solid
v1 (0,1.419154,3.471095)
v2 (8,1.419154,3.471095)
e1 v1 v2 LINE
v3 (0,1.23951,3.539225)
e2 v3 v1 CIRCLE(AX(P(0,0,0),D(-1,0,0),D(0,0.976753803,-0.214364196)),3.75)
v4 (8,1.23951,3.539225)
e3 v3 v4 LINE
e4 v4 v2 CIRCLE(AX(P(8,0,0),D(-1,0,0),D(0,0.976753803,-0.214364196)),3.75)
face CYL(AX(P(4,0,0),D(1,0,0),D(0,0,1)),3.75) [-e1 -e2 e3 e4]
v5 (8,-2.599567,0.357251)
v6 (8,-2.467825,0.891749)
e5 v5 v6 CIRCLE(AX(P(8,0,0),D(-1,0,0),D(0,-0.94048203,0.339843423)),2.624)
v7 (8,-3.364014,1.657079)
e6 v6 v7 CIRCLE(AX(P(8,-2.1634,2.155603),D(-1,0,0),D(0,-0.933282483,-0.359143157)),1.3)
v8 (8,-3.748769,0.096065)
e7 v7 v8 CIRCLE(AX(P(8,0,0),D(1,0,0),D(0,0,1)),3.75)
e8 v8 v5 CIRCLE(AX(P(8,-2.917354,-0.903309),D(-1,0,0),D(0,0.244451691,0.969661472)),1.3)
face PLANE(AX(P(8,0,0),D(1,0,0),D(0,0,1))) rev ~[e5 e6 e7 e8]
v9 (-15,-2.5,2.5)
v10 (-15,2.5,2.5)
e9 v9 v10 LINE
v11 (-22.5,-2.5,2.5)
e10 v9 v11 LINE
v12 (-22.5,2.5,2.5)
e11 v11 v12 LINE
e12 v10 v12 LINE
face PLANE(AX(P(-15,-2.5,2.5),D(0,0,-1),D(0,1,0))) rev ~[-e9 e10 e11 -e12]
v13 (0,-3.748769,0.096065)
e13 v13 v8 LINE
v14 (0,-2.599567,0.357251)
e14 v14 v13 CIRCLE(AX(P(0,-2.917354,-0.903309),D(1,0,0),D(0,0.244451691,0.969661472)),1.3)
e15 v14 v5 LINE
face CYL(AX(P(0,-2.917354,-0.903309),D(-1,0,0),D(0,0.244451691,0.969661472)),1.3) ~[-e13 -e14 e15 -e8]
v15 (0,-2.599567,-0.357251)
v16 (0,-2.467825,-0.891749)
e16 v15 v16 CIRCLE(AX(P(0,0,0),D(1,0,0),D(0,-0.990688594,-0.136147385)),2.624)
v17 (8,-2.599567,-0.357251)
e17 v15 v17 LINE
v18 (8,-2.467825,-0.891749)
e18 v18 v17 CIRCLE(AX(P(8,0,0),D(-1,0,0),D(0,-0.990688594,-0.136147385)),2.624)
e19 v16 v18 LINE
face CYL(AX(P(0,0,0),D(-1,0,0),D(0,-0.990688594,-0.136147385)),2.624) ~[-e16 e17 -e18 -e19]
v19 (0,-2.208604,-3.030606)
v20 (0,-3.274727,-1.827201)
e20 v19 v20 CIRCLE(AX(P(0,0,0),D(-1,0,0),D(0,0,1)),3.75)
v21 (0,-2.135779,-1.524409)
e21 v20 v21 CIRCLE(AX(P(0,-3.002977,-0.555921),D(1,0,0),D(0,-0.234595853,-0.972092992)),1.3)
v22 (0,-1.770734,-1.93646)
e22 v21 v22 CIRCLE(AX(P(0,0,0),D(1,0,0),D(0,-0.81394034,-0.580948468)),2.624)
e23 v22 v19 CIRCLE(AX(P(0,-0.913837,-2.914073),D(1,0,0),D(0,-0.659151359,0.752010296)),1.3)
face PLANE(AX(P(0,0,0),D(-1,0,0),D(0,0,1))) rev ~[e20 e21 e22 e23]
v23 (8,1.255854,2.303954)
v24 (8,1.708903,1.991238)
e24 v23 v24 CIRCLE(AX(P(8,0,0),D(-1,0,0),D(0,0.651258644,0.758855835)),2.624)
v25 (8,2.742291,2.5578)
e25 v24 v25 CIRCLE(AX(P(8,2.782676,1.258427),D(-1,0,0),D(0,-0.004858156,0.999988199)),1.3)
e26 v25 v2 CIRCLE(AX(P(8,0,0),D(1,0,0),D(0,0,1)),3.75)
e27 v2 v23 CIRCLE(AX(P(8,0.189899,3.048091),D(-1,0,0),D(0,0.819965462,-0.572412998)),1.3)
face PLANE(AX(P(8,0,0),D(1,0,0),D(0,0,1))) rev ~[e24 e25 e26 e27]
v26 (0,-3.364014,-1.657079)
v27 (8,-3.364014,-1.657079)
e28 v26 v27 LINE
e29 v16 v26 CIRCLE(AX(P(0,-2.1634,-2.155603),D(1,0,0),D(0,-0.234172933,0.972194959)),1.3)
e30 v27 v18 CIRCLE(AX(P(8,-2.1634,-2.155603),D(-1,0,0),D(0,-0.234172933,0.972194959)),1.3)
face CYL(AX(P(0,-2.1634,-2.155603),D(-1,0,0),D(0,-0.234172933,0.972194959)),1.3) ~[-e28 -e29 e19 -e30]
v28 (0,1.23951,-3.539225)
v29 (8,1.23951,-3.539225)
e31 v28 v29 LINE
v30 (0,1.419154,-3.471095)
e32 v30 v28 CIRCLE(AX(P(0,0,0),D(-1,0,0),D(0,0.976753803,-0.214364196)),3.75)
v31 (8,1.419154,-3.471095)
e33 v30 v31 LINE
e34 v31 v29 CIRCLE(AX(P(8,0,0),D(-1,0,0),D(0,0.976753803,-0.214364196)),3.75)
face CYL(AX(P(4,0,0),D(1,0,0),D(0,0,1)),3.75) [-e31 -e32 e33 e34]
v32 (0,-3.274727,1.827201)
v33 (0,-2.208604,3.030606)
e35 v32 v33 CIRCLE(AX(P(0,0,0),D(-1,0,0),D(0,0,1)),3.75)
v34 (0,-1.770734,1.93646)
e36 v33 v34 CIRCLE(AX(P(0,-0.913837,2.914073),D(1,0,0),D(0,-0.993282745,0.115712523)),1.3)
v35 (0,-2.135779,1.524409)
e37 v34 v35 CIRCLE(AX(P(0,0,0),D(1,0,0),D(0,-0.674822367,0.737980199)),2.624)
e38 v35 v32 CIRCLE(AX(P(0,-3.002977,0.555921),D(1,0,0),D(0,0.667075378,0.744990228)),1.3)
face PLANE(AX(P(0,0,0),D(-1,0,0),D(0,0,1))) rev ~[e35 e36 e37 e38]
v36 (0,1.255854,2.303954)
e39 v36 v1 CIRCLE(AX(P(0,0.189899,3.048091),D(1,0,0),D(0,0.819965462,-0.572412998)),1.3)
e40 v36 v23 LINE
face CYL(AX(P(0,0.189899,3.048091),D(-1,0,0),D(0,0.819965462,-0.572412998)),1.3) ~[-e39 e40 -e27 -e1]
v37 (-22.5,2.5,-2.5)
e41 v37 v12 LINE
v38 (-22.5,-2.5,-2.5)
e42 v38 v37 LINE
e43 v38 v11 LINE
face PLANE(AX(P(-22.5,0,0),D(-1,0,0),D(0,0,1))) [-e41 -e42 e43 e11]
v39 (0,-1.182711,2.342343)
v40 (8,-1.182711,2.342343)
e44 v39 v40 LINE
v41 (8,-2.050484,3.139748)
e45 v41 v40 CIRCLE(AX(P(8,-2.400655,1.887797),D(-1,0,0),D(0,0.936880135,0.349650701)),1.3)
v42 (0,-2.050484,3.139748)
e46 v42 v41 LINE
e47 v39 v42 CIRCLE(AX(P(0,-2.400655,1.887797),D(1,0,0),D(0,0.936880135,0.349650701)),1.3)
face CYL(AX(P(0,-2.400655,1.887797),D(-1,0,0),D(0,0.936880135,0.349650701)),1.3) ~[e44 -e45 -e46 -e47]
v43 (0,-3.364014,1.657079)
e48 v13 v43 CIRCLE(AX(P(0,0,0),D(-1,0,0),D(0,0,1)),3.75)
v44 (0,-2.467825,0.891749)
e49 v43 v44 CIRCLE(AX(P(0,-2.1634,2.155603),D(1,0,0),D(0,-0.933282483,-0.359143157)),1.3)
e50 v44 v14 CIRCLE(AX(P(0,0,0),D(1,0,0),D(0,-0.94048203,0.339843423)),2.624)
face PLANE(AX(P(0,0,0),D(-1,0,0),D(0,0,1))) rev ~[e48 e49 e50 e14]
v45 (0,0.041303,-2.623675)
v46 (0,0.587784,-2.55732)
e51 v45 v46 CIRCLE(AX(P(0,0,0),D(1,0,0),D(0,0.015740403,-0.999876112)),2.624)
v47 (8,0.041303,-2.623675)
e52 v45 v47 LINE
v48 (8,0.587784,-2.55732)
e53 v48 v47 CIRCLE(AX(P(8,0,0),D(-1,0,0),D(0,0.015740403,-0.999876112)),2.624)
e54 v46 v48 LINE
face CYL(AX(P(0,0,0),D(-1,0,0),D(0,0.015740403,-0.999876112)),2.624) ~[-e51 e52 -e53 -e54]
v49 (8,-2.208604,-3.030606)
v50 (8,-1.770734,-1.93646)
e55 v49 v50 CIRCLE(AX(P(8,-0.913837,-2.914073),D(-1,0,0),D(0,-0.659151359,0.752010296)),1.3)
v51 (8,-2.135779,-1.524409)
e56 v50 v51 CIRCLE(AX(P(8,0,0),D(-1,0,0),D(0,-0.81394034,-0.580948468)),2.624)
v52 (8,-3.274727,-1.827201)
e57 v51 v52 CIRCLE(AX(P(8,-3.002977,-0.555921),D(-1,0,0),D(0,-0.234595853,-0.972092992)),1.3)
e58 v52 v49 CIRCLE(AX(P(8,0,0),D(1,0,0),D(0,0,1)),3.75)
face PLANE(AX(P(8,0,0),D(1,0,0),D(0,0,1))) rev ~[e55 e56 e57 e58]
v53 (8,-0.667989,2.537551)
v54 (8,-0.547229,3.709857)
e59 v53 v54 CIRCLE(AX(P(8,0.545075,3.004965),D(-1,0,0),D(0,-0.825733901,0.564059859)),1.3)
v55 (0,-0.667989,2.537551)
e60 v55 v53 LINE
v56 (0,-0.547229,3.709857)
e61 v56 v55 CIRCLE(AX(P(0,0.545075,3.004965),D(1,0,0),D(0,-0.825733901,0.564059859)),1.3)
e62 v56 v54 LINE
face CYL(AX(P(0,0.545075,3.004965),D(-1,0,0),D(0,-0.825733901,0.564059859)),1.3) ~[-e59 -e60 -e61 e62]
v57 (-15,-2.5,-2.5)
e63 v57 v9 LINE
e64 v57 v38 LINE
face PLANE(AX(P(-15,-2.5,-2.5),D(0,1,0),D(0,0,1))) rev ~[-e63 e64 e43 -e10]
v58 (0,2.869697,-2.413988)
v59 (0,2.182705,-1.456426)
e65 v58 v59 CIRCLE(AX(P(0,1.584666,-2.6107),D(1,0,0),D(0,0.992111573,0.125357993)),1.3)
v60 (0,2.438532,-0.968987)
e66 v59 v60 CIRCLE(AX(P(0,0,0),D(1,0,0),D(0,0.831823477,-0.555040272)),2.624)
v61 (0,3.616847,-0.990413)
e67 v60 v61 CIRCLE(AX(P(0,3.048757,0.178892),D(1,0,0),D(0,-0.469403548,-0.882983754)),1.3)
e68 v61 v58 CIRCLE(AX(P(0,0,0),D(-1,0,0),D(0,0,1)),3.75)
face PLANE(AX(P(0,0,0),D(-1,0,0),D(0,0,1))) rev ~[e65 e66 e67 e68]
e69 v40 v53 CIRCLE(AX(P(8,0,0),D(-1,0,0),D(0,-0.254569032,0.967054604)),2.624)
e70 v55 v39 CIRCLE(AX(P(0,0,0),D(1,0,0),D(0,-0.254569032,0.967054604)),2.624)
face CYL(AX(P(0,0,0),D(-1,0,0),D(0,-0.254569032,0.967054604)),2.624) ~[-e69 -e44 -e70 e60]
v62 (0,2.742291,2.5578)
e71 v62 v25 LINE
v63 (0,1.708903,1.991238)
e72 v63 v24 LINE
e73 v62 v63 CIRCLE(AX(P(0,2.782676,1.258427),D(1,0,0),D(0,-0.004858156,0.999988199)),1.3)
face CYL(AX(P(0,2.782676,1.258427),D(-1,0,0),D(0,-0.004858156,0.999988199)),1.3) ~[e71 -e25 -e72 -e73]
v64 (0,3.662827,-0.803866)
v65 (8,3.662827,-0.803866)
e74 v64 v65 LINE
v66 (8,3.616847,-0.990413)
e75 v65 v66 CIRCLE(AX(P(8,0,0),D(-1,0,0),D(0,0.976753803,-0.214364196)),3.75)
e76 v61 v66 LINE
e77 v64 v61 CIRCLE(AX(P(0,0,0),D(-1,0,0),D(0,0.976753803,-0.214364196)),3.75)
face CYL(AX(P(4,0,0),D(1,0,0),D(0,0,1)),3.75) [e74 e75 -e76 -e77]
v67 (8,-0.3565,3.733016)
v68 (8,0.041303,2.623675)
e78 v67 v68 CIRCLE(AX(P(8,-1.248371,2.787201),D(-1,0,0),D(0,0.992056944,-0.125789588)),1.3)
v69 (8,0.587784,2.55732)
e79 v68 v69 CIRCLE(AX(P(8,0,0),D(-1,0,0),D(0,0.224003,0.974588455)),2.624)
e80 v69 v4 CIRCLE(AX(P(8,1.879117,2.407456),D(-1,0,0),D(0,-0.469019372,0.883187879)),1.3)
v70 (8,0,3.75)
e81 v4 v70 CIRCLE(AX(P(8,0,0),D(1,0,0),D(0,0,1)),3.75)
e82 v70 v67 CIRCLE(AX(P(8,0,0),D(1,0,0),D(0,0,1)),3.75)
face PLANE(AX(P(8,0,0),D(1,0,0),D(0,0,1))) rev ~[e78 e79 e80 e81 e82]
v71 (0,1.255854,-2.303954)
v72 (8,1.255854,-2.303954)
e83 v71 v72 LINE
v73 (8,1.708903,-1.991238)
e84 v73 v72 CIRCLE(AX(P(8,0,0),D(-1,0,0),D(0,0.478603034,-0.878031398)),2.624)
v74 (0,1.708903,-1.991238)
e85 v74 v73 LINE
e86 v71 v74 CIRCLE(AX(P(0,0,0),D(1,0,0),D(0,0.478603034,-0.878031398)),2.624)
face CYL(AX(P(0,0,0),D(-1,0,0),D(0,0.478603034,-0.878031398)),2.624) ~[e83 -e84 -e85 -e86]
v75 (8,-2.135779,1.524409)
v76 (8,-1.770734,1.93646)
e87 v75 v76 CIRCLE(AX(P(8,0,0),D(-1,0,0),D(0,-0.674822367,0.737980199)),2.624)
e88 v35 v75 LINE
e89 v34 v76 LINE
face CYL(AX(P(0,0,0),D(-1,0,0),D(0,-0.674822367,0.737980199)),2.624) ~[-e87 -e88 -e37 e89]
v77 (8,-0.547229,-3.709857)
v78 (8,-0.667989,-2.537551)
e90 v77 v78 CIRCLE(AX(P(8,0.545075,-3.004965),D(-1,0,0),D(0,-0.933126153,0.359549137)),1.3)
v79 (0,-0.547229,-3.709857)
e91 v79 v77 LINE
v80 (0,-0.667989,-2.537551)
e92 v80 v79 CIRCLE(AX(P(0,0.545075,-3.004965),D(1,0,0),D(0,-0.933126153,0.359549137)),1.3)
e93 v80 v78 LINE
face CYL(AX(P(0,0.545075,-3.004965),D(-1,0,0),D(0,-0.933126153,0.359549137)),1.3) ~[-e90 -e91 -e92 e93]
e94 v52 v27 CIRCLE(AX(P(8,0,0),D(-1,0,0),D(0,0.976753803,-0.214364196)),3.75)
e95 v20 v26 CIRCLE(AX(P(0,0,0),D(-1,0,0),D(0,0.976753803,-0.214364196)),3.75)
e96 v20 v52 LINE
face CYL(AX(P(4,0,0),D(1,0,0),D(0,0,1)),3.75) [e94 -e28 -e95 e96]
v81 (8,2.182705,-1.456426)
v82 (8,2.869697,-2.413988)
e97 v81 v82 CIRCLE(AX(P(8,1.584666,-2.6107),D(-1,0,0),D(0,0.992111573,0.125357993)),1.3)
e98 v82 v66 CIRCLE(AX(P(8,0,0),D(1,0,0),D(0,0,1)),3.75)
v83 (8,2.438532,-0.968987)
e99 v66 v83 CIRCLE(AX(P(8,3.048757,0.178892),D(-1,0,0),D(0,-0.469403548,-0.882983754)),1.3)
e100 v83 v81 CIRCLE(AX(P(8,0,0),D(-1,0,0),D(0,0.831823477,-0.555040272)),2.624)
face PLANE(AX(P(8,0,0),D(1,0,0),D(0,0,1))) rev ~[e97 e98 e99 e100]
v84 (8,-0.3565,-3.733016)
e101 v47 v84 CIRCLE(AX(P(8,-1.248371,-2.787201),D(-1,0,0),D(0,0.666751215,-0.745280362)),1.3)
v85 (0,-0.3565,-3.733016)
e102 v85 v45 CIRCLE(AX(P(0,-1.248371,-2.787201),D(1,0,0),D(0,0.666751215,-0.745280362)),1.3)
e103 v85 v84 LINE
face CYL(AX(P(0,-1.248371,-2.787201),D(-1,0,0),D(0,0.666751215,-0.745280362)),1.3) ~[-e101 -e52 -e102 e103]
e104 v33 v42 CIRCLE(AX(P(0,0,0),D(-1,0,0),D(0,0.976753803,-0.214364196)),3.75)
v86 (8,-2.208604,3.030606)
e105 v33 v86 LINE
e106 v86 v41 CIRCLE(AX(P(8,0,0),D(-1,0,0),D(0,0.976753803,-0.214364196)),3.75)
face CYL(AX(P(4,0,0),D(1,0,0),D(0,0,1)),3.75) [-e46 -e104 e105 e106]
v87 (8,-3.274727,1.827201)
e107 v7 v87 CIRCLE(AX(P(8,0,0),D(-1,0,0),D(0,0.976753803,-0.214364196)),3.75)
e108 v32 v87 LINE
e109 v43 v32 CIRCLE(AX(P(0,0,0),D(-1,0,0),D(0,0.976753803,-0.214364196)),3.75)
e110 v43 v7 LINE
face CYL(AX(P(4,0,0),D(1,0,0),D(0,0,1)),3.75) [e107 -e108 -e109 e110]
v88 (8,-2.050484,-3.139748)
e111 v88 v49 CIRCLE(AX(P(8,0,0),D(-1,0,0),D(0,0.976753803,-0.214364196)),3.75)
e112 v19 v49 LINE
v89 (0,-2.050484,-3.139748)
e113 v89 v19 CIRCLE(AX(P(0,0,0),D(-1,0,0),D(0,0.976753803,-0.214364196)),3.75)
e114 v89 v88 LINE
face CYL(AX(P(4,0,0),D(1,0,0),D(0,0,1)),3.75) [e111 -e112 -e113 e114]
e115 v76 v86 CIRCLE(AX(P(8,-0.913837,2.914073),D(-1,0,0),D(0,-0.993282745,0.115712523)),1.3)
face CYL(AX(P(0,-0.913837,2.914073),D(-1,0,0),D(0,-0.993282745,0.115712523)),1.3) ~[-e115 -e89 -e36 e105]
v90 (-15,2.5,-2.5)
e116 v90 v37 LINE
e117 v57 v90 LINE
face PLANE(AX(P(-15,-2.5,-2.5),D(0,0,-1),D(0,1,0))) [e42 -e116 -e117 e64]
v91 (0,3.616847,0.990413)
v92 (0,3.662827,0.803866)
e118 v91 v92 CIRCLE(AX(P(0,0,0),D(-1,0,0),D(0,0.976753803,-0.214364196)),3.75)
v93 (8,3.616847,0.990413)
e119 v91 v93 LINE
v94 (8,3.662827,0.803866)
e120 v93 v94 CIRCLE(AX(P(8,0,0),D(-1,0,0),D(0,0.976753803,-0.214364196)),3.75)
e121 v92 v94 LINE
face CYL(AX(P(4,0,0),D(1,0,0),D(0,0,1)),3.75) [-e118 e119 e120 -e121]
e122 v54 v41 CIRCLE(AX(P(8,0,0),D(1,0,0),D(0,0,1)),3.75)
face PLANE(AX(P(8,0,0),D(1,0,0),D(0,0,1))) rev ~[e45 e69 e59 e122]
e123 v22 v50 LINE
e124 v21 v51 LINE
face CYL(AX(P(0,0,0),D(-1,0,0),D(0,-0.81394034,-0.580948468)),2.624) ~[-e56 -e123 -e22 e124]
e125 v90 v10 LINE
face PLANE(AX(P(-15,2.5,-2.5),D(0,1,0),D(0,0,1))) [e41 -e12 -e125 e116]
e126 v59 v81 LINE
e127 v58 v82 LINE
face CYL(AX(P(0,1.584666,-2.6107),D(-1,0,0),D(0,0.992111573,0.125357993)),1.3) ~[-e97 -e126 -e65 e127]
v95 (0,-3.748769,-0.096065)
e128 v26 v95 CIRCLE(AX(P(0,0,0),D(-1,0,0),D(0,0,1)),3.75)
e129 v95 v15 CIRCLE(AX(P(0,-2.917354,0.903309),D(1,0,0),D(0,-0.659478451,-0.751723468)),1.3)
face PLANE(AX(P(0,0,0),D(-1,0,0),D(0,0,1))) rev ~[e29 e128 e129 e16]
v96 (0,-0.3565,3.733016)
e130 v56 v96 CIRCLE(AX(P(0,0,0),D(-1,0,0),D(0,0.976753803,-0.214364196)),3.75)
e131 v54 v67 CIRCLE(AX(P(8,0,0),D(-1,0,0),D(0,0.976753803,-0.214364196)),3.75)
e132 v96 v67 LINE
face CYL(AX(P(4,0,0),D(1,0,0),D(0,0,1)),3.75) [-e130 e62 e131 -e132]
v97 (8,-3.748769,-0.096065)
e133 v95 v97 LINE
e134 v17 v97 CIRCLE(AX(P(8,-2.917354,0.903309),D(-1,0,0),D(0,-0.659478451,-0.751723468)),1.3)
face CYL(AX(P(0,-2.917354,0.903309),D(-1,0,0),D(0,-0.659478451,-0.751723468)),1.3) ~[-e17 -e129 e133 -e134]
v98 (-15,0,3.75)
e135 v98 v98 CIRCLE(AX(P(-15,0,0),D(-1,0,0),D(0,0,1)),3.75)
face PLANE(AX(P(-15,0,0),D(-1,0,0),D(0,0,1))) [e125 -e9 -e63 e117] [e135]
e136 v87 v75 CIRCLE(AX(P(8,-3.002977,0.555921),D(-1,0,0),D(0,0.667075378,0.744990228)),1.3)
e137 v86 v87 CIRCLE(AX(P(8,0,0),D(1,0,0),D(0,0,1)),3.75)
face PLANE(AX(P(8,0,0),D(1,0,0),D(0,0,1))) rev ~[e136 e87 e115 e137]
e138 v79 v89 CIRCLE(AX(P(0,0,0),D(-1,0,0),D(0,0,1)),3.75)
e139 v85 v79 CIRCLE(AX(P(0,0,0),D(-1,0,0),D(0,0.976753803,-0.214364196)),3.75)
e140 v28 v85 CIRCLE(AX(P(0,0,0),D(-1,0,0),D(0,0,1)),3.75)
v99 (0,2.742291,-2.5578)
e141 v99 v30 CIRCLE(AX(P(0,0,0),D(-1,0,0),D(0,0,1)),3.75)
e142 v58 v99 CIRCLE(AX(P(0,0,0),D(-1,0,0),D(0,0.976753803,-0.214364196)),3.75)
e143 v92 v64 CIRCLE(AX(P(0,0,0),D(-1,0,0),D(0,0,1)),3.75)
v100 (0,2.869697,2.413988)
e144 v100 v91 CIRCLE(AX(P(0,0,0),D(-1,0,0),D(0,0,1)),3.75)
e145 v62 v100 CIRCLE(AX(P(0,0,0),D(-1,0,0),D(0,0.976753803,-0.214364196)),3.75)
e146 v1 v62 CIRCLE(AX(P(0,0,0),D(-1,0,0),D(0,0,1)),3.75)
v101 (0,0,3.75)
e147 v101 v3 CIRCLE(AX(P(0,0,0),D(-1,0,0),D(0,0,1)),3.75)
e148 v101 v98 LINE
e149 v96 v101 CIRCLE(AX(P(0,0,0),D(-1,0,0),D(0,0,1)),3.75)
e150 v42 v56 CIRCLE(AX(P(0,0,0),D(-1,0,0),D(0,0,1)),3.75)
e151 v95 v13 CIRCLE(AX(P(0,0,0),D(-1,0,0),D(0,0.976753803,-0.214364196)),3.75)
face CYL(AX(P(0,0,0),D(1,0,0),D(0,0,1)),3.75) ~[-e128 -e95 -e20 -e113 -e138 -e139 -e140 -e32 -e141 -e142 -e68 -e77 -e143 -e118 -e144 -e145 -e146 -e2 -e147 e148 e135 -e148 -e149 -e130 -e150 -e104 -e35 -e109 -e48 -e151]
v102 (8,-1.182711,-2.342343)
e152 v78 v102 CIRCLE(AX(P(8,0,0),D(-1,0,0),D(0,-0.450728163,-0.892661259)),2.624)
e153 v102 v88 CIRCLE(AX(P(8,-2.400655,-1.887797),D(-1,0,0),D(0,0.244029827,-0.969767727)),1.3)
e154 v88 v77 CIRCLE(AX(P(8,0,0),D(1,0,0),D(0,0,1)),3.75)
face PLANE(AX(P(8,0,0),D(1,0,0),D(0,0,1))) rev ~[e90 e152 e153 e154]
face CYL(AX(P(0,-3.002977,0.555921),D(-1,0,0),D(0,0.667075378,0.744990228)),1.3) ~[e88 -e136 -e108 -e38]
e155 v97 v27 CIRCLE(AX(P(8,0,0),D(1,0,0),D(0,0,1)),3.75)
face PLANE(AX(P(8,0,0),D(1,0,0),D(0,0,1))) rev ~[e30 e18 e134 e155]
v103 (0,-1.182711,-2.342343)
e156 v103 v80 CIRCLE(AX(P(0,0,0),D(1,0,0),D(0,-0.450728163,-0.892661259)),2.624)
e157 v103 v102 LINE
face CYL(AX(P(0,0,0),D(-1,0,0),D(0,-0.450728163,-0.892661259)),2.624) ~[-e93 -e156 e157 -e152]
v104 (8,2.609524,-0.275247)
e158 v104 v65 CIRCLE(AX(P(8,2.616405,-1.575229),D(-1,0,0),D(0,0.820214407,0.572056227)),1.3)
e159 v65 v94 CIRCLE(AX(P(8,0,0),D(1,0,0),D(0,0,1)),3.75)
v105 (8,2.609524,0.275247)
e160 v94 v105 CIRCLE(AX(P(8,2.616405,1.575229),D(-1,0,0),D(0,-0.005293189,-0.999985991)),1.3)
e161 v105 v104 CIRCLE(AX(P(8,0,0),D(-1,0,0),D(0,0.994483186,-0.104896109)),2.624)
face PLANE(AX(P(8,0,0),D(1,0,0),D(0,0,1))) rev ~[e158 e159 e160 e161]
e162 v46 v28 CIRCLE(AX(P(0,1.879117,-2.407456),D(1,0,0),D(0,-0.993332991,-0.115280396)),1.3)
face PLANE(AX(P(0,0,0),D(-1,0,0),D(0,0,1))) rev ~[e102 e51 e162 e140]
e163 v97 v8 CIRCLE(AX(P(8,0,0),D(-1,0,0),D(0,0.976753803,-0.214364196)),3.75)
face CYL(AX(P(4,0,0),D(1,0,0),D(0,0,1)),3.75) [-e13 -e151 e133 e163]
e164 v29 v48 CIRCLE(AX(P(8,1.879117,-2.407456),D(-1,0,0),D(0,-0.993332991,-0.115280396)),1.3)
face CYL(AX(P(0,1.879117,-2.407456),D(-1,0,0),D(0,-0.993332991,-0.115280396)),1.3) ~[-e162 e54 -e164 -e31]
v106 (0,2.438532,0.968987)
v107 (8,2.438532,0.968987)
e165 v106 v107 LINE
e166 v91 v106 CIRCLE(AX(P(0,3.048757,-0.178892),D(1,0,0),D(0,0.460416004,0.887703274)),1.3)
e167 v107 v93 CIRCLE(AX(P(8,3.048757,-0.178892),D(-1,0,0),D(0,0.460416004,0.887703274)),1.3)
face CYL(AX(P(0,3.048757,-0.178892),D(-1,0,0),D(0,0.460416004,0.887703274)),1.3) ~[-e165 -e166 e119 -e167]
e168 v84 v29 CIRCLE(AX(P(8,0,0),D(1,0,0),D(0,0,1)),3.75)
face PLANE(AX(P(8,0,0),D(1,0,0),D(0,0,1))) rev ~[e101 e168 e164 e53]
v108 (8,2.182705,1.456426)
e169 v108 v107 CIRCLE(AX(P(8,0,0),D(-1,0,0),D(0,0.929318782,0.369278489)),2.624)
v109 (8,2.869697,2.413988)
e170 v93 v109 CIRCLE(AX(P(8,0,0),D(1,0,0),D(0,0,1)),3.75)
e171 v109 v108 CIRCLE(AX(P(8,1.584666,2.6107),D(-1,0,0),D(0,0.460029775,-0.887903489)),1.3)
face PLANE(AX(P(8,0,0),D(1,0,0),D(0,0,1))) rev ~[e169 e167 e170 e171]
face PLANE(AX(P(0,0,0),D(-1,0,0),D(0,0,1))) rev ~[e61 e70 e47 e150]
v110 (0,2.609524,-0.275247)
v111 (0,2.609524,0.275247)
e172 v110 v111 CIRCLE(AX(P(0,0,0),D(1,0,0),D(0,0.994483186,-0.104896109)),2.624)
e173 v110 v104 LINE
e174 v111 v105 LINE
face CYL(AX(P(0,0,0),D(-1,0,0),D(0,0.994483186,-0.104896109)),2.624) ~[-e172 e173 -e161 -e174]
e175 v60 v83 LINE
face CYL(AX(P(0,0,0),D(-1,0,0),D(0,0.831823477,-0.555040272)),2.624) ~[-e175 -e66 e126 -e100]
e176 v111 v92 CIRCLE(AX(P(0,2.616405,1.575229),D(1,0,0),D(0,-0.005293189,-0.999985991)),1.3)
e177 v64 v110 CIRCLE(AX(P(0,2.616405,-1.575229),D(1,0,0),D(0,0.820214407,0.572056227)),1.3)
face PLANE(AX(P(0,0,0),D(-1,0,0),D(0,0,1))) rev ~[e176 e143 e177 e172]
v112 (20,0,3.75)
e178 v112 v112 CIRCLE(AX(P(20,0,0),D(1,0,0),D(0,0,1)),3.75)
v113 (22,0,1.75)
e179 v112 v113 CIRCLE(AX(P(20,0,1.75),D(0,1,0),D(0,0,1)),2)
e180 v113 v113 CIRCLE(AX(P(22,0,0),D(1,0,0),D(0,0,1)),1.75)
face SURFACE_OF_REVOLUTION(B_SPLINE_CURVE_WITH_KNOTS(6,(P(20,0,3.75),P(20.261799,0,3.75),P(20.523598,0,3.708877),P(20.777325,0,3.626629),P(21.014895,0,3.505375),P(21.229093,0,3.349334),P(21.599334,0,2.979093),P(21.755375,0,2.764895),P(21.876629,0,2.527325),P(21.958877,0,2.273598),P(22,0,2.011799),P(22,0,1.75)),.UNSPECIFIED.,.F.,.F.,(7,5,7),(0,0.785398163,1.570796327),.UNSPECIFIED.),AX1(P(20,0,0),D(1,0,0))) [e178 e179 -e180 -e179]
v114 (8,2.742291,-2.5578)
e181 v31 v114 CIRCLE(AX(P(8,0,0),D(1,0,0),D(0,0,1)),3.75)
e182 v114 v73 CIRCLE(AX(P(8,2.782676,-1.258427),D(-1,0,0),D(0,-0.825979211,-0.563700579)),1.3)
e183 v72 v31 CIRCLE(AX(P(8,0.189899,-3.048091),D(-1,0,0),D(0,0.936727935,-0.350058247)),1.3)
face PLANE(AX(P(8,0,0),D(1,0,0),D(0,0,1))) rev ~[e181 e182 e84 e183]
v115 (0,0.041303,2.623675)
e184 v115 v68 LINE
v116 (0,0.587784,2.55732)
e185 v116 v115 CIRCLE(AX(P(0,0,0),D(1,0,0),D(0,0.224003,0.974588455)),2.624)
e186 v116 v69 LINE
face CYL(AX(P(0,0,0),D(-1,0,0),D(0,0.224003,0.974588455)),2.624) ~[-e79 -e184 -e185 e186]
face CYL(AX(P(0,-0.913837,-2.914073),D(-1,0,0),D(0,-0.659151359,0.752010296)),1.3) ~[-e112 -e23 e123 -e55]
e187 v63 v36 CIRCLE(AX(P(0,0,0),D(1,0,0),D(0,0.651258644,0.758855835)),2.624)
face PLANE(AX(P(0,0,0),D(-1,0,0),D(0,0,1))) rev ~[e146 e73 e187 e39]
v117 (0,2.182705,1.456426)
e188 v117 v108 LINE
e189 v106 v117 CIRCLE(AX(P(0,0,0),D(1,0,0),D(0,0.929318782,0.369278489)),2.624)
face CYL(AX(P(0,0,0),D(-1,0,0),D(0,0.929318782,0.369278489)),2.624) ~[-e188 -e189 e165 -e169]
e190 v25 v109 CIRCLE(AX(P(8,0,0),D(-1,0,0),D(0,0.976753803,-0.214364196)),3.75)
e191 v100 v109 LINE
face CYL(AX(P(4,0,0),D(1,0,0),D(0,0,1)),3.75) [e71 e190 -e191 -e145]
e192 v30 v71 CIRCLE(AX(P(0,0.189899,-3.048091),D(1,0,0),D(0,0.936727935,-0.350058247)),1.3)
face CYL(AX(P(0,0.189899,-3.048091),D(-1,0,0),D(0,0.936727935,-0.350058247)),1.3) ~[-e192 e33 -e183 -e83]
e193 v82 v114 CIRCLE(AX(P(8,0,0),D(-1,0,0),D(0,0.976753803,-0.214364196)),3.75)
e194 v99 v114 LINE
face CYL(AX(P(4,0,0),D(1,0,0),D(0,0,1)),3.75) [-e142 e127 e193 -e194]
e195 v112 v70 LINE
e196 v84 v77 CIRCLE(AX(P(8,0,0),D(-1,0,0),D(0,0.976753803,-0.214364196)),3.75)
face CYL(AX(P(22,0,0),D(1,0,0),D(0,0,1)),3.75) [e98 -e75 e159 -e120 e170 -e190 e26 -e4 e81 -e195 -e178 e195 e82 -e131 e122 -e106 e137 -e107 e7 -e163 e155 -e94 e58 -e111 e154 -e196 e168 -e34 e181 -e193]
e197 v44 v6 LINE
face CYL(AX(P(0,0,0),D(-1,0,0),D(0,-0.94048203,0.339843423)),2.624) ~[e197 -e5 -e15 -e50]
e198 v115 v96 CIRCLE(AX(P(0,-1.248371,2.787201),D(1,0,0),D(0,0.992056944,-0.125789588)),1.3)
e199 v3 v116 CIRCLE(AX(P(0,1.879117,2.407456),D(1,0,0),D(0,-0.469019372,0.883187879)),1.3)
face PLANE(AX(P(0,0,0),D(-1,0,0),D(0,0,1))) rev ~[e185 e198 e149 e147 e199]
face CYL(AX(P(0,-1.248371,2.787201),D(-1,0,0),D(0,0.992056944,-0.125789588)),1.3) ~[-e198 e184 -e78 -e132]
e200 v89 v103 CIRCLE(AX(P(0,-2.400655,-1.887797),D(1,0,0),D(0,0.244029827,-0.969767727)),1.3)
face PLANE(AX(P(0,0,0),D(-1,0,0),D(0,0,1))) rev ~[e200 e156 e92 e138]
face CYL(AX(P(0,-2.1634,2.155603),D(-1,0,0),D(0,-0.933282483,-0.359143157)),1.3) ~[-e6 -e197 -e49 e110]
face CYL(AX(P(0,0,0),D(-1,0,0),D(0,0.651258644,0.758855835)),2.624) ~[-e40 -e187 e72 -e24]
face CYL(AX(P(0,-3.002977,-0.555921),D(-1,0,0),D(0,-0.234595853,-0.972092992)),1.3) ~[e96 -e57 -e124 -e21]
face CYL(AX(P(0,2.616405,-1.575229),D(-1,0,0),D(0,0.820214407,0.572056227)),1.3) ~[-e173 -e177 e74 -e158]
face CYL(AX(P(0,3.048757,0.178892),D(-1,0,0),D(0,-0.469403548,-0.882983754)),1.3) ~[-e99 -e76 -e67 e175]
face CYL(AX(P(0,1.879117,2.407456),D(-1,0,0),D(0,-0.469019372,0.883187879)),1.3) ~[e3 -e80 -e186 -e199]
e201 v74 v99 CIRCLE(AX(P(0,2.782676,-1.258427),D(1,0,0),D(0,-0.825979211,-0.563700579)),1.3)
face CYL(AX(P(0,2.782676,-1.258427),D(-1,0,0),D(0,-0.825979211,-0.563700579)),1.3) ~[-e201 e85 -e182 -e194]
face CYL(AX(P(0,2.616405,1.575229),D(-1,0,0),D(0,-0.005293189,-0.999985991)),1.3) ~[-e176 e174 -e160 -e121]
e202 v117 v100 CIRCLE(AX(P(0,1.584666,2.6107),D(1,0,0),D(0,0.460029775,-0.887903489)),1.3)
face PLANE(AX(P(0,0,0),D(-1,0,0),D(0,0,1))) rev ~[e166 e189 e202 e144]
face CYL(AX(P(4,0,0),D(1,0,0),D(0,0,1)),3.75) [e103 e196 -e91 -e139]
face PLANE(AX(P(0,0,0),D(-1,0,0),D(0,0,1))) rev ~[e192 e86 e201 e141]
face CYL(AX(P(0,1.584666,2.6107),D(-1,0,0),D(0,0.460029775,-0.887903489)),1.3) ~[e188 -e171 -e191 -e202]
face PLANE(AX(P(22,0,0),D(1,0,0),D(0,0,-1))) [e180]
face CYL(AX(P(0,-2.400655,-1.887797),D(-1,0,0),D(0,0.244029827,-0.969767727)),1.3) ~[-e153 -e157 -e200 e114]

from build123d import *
from build123d.topology import SkipClean

# Parameters (mm, degrees)
BASPROSKE_W         = 8
BASPROSKE_H         = 3.75
TOOTHCUT_DEPTH      = 10.59817691
TEETHCUTS_COUNT     = 13
TEETHCUTS_ANGLE     = 332.307692308
BORSKE_R            = 0.4
BORE_DEPTH          = 50.0000508
SKETCH3_R           = 3.75
BOSS_EXTRUDE3_DEPTH = 15
SKETCH4_W           = 5
SKETCH4_H           = 5
BOSS_EXTRUDE4_DEPTH = 7.5
BOSS_EXTRUDE5_START = 14
SKETCH5_R           = 3.75
BOSS_EXTRUDE5_DEPTH = 14
FILLET1_R           = 2
SKETCH8_R           = 1.303262777
BOSS_EXTRUDE8_DEPTH = 30


with BuildPart() as part:
    # BasProSke → Base-Revolve (revolve)
    with BuildSketch(Plane(origin=(0, 0, 0), x_dir=(1, 0, 0), z_dir=(0, 1, 0))):
        with Locations((4, 1.875)):
            Rectangle(BASPROSKE_W, BASPROSKE_H)
    revolve(axis=Axis((-10, 0, 0), (1, 0, 0)))

    # TooCutSke → ToothCut (cut, through all)
    with BuildSketch(Plane(origin=(0, 0, 0), x_dir=(0, 0, -1), z_dir=(1, 0, 0))):
        with BuildLine():
            ThreePointArc((0.275247387, 2.609523879), (0, 2.624), (-0.275247387, 2.609523879))
            ThreePointArc((-0.275247387, 2.609523879), (-0.421084752, 3.214694797), (-0.831556081, 3.682683756))
            ThreePointArc((-0.831556081, 3.682683756), (0, 3.7754), (0.831556081, 3.682683756))
            ThreePointArc((0.831556081, 3.682683756), (0.421084752, 3.214694797), (0.275247387, 2.609523879))
        make_face()
    toothcut = extrude(amount=TOOTHCUT_DEPTH, mode=Mode.SUBTRACT)

    # TeethCuts: ToothCut ×13 about axis
    teethcuts_axis = Axis((-10, 0, 0), (1, 0, 0))
    for i in range(1, TEETHCUTS_COUNT):
        add(toothcut.rotate(teethcuts_axis, i * TEETHCUTS_ANGLE / (TEETHCUTS_COUNT - 1)), mode=Mode.SUBTRACT)

    # BorSke → Bore (cut, symmetric)
    with BuildSketch(Plane(origin=(0, 0, 0), x_dir=(0, 0, -1), z_dir=(1, 0, 0))):
        Circle(BORSKE_R)
    extrude(amount=BORE_DEPTH, both=True, mode=Mode.SUBTRACT)

    # Sketch3 → Boss-Extrude3 (add)
    with SkipClean():  # the faces are left unmerged after this step: merging them gives an invalid solid
        with BuildSketch(Plane.ZY):
            Circle(SKETCH3_R)
        extrude(amount=BOSS_EXTRUDE3_DEPTH)

    # Sketch4 → Boss-Extrude4 (add)
    with SkipClean():  # the faces are left unmerged after this step: merging them gives an invalid solid
        with BuildSketch(Plane.ZY.offset(15)):
            Rectangle(SKETCH4_W, SKETCH4_H)
        extrude(amount=BOSS_EXTRUDE4_DEPTH)

    # Sketch5 → Boss-Extrude5 (add)
    with BuildSketch(Plane(origin=(8, 0, 0), x_dir=(0, 0, -1), z_dir=(1, 0, 0)).offset(BOSS_EXTRUDE5_START)):
        Circle(SKETCH5_R)
    extrude(amount=-BOSS_EXTRUDE5_DEPTH)

    # Fillet1
    fillet1_edges = [part.edges().sort_by_distance(p)[0] for p in [
        (22, 0, 3.75),
    ]]
    fillet(fillet1_edges, radius=FILLET1_R)

    # Sketch8 → Boss-Extrude8 (add)
    with BuildSketch(Plane(origin=(22, 0, 0), x_dir=(0, 0, -1), z_dir=(1, 0, 0))):
        Circle(SKETCH8_R)
    extrude(amount=-BOSS_EXTRUDE8_DEPTH)


solid = part.part
